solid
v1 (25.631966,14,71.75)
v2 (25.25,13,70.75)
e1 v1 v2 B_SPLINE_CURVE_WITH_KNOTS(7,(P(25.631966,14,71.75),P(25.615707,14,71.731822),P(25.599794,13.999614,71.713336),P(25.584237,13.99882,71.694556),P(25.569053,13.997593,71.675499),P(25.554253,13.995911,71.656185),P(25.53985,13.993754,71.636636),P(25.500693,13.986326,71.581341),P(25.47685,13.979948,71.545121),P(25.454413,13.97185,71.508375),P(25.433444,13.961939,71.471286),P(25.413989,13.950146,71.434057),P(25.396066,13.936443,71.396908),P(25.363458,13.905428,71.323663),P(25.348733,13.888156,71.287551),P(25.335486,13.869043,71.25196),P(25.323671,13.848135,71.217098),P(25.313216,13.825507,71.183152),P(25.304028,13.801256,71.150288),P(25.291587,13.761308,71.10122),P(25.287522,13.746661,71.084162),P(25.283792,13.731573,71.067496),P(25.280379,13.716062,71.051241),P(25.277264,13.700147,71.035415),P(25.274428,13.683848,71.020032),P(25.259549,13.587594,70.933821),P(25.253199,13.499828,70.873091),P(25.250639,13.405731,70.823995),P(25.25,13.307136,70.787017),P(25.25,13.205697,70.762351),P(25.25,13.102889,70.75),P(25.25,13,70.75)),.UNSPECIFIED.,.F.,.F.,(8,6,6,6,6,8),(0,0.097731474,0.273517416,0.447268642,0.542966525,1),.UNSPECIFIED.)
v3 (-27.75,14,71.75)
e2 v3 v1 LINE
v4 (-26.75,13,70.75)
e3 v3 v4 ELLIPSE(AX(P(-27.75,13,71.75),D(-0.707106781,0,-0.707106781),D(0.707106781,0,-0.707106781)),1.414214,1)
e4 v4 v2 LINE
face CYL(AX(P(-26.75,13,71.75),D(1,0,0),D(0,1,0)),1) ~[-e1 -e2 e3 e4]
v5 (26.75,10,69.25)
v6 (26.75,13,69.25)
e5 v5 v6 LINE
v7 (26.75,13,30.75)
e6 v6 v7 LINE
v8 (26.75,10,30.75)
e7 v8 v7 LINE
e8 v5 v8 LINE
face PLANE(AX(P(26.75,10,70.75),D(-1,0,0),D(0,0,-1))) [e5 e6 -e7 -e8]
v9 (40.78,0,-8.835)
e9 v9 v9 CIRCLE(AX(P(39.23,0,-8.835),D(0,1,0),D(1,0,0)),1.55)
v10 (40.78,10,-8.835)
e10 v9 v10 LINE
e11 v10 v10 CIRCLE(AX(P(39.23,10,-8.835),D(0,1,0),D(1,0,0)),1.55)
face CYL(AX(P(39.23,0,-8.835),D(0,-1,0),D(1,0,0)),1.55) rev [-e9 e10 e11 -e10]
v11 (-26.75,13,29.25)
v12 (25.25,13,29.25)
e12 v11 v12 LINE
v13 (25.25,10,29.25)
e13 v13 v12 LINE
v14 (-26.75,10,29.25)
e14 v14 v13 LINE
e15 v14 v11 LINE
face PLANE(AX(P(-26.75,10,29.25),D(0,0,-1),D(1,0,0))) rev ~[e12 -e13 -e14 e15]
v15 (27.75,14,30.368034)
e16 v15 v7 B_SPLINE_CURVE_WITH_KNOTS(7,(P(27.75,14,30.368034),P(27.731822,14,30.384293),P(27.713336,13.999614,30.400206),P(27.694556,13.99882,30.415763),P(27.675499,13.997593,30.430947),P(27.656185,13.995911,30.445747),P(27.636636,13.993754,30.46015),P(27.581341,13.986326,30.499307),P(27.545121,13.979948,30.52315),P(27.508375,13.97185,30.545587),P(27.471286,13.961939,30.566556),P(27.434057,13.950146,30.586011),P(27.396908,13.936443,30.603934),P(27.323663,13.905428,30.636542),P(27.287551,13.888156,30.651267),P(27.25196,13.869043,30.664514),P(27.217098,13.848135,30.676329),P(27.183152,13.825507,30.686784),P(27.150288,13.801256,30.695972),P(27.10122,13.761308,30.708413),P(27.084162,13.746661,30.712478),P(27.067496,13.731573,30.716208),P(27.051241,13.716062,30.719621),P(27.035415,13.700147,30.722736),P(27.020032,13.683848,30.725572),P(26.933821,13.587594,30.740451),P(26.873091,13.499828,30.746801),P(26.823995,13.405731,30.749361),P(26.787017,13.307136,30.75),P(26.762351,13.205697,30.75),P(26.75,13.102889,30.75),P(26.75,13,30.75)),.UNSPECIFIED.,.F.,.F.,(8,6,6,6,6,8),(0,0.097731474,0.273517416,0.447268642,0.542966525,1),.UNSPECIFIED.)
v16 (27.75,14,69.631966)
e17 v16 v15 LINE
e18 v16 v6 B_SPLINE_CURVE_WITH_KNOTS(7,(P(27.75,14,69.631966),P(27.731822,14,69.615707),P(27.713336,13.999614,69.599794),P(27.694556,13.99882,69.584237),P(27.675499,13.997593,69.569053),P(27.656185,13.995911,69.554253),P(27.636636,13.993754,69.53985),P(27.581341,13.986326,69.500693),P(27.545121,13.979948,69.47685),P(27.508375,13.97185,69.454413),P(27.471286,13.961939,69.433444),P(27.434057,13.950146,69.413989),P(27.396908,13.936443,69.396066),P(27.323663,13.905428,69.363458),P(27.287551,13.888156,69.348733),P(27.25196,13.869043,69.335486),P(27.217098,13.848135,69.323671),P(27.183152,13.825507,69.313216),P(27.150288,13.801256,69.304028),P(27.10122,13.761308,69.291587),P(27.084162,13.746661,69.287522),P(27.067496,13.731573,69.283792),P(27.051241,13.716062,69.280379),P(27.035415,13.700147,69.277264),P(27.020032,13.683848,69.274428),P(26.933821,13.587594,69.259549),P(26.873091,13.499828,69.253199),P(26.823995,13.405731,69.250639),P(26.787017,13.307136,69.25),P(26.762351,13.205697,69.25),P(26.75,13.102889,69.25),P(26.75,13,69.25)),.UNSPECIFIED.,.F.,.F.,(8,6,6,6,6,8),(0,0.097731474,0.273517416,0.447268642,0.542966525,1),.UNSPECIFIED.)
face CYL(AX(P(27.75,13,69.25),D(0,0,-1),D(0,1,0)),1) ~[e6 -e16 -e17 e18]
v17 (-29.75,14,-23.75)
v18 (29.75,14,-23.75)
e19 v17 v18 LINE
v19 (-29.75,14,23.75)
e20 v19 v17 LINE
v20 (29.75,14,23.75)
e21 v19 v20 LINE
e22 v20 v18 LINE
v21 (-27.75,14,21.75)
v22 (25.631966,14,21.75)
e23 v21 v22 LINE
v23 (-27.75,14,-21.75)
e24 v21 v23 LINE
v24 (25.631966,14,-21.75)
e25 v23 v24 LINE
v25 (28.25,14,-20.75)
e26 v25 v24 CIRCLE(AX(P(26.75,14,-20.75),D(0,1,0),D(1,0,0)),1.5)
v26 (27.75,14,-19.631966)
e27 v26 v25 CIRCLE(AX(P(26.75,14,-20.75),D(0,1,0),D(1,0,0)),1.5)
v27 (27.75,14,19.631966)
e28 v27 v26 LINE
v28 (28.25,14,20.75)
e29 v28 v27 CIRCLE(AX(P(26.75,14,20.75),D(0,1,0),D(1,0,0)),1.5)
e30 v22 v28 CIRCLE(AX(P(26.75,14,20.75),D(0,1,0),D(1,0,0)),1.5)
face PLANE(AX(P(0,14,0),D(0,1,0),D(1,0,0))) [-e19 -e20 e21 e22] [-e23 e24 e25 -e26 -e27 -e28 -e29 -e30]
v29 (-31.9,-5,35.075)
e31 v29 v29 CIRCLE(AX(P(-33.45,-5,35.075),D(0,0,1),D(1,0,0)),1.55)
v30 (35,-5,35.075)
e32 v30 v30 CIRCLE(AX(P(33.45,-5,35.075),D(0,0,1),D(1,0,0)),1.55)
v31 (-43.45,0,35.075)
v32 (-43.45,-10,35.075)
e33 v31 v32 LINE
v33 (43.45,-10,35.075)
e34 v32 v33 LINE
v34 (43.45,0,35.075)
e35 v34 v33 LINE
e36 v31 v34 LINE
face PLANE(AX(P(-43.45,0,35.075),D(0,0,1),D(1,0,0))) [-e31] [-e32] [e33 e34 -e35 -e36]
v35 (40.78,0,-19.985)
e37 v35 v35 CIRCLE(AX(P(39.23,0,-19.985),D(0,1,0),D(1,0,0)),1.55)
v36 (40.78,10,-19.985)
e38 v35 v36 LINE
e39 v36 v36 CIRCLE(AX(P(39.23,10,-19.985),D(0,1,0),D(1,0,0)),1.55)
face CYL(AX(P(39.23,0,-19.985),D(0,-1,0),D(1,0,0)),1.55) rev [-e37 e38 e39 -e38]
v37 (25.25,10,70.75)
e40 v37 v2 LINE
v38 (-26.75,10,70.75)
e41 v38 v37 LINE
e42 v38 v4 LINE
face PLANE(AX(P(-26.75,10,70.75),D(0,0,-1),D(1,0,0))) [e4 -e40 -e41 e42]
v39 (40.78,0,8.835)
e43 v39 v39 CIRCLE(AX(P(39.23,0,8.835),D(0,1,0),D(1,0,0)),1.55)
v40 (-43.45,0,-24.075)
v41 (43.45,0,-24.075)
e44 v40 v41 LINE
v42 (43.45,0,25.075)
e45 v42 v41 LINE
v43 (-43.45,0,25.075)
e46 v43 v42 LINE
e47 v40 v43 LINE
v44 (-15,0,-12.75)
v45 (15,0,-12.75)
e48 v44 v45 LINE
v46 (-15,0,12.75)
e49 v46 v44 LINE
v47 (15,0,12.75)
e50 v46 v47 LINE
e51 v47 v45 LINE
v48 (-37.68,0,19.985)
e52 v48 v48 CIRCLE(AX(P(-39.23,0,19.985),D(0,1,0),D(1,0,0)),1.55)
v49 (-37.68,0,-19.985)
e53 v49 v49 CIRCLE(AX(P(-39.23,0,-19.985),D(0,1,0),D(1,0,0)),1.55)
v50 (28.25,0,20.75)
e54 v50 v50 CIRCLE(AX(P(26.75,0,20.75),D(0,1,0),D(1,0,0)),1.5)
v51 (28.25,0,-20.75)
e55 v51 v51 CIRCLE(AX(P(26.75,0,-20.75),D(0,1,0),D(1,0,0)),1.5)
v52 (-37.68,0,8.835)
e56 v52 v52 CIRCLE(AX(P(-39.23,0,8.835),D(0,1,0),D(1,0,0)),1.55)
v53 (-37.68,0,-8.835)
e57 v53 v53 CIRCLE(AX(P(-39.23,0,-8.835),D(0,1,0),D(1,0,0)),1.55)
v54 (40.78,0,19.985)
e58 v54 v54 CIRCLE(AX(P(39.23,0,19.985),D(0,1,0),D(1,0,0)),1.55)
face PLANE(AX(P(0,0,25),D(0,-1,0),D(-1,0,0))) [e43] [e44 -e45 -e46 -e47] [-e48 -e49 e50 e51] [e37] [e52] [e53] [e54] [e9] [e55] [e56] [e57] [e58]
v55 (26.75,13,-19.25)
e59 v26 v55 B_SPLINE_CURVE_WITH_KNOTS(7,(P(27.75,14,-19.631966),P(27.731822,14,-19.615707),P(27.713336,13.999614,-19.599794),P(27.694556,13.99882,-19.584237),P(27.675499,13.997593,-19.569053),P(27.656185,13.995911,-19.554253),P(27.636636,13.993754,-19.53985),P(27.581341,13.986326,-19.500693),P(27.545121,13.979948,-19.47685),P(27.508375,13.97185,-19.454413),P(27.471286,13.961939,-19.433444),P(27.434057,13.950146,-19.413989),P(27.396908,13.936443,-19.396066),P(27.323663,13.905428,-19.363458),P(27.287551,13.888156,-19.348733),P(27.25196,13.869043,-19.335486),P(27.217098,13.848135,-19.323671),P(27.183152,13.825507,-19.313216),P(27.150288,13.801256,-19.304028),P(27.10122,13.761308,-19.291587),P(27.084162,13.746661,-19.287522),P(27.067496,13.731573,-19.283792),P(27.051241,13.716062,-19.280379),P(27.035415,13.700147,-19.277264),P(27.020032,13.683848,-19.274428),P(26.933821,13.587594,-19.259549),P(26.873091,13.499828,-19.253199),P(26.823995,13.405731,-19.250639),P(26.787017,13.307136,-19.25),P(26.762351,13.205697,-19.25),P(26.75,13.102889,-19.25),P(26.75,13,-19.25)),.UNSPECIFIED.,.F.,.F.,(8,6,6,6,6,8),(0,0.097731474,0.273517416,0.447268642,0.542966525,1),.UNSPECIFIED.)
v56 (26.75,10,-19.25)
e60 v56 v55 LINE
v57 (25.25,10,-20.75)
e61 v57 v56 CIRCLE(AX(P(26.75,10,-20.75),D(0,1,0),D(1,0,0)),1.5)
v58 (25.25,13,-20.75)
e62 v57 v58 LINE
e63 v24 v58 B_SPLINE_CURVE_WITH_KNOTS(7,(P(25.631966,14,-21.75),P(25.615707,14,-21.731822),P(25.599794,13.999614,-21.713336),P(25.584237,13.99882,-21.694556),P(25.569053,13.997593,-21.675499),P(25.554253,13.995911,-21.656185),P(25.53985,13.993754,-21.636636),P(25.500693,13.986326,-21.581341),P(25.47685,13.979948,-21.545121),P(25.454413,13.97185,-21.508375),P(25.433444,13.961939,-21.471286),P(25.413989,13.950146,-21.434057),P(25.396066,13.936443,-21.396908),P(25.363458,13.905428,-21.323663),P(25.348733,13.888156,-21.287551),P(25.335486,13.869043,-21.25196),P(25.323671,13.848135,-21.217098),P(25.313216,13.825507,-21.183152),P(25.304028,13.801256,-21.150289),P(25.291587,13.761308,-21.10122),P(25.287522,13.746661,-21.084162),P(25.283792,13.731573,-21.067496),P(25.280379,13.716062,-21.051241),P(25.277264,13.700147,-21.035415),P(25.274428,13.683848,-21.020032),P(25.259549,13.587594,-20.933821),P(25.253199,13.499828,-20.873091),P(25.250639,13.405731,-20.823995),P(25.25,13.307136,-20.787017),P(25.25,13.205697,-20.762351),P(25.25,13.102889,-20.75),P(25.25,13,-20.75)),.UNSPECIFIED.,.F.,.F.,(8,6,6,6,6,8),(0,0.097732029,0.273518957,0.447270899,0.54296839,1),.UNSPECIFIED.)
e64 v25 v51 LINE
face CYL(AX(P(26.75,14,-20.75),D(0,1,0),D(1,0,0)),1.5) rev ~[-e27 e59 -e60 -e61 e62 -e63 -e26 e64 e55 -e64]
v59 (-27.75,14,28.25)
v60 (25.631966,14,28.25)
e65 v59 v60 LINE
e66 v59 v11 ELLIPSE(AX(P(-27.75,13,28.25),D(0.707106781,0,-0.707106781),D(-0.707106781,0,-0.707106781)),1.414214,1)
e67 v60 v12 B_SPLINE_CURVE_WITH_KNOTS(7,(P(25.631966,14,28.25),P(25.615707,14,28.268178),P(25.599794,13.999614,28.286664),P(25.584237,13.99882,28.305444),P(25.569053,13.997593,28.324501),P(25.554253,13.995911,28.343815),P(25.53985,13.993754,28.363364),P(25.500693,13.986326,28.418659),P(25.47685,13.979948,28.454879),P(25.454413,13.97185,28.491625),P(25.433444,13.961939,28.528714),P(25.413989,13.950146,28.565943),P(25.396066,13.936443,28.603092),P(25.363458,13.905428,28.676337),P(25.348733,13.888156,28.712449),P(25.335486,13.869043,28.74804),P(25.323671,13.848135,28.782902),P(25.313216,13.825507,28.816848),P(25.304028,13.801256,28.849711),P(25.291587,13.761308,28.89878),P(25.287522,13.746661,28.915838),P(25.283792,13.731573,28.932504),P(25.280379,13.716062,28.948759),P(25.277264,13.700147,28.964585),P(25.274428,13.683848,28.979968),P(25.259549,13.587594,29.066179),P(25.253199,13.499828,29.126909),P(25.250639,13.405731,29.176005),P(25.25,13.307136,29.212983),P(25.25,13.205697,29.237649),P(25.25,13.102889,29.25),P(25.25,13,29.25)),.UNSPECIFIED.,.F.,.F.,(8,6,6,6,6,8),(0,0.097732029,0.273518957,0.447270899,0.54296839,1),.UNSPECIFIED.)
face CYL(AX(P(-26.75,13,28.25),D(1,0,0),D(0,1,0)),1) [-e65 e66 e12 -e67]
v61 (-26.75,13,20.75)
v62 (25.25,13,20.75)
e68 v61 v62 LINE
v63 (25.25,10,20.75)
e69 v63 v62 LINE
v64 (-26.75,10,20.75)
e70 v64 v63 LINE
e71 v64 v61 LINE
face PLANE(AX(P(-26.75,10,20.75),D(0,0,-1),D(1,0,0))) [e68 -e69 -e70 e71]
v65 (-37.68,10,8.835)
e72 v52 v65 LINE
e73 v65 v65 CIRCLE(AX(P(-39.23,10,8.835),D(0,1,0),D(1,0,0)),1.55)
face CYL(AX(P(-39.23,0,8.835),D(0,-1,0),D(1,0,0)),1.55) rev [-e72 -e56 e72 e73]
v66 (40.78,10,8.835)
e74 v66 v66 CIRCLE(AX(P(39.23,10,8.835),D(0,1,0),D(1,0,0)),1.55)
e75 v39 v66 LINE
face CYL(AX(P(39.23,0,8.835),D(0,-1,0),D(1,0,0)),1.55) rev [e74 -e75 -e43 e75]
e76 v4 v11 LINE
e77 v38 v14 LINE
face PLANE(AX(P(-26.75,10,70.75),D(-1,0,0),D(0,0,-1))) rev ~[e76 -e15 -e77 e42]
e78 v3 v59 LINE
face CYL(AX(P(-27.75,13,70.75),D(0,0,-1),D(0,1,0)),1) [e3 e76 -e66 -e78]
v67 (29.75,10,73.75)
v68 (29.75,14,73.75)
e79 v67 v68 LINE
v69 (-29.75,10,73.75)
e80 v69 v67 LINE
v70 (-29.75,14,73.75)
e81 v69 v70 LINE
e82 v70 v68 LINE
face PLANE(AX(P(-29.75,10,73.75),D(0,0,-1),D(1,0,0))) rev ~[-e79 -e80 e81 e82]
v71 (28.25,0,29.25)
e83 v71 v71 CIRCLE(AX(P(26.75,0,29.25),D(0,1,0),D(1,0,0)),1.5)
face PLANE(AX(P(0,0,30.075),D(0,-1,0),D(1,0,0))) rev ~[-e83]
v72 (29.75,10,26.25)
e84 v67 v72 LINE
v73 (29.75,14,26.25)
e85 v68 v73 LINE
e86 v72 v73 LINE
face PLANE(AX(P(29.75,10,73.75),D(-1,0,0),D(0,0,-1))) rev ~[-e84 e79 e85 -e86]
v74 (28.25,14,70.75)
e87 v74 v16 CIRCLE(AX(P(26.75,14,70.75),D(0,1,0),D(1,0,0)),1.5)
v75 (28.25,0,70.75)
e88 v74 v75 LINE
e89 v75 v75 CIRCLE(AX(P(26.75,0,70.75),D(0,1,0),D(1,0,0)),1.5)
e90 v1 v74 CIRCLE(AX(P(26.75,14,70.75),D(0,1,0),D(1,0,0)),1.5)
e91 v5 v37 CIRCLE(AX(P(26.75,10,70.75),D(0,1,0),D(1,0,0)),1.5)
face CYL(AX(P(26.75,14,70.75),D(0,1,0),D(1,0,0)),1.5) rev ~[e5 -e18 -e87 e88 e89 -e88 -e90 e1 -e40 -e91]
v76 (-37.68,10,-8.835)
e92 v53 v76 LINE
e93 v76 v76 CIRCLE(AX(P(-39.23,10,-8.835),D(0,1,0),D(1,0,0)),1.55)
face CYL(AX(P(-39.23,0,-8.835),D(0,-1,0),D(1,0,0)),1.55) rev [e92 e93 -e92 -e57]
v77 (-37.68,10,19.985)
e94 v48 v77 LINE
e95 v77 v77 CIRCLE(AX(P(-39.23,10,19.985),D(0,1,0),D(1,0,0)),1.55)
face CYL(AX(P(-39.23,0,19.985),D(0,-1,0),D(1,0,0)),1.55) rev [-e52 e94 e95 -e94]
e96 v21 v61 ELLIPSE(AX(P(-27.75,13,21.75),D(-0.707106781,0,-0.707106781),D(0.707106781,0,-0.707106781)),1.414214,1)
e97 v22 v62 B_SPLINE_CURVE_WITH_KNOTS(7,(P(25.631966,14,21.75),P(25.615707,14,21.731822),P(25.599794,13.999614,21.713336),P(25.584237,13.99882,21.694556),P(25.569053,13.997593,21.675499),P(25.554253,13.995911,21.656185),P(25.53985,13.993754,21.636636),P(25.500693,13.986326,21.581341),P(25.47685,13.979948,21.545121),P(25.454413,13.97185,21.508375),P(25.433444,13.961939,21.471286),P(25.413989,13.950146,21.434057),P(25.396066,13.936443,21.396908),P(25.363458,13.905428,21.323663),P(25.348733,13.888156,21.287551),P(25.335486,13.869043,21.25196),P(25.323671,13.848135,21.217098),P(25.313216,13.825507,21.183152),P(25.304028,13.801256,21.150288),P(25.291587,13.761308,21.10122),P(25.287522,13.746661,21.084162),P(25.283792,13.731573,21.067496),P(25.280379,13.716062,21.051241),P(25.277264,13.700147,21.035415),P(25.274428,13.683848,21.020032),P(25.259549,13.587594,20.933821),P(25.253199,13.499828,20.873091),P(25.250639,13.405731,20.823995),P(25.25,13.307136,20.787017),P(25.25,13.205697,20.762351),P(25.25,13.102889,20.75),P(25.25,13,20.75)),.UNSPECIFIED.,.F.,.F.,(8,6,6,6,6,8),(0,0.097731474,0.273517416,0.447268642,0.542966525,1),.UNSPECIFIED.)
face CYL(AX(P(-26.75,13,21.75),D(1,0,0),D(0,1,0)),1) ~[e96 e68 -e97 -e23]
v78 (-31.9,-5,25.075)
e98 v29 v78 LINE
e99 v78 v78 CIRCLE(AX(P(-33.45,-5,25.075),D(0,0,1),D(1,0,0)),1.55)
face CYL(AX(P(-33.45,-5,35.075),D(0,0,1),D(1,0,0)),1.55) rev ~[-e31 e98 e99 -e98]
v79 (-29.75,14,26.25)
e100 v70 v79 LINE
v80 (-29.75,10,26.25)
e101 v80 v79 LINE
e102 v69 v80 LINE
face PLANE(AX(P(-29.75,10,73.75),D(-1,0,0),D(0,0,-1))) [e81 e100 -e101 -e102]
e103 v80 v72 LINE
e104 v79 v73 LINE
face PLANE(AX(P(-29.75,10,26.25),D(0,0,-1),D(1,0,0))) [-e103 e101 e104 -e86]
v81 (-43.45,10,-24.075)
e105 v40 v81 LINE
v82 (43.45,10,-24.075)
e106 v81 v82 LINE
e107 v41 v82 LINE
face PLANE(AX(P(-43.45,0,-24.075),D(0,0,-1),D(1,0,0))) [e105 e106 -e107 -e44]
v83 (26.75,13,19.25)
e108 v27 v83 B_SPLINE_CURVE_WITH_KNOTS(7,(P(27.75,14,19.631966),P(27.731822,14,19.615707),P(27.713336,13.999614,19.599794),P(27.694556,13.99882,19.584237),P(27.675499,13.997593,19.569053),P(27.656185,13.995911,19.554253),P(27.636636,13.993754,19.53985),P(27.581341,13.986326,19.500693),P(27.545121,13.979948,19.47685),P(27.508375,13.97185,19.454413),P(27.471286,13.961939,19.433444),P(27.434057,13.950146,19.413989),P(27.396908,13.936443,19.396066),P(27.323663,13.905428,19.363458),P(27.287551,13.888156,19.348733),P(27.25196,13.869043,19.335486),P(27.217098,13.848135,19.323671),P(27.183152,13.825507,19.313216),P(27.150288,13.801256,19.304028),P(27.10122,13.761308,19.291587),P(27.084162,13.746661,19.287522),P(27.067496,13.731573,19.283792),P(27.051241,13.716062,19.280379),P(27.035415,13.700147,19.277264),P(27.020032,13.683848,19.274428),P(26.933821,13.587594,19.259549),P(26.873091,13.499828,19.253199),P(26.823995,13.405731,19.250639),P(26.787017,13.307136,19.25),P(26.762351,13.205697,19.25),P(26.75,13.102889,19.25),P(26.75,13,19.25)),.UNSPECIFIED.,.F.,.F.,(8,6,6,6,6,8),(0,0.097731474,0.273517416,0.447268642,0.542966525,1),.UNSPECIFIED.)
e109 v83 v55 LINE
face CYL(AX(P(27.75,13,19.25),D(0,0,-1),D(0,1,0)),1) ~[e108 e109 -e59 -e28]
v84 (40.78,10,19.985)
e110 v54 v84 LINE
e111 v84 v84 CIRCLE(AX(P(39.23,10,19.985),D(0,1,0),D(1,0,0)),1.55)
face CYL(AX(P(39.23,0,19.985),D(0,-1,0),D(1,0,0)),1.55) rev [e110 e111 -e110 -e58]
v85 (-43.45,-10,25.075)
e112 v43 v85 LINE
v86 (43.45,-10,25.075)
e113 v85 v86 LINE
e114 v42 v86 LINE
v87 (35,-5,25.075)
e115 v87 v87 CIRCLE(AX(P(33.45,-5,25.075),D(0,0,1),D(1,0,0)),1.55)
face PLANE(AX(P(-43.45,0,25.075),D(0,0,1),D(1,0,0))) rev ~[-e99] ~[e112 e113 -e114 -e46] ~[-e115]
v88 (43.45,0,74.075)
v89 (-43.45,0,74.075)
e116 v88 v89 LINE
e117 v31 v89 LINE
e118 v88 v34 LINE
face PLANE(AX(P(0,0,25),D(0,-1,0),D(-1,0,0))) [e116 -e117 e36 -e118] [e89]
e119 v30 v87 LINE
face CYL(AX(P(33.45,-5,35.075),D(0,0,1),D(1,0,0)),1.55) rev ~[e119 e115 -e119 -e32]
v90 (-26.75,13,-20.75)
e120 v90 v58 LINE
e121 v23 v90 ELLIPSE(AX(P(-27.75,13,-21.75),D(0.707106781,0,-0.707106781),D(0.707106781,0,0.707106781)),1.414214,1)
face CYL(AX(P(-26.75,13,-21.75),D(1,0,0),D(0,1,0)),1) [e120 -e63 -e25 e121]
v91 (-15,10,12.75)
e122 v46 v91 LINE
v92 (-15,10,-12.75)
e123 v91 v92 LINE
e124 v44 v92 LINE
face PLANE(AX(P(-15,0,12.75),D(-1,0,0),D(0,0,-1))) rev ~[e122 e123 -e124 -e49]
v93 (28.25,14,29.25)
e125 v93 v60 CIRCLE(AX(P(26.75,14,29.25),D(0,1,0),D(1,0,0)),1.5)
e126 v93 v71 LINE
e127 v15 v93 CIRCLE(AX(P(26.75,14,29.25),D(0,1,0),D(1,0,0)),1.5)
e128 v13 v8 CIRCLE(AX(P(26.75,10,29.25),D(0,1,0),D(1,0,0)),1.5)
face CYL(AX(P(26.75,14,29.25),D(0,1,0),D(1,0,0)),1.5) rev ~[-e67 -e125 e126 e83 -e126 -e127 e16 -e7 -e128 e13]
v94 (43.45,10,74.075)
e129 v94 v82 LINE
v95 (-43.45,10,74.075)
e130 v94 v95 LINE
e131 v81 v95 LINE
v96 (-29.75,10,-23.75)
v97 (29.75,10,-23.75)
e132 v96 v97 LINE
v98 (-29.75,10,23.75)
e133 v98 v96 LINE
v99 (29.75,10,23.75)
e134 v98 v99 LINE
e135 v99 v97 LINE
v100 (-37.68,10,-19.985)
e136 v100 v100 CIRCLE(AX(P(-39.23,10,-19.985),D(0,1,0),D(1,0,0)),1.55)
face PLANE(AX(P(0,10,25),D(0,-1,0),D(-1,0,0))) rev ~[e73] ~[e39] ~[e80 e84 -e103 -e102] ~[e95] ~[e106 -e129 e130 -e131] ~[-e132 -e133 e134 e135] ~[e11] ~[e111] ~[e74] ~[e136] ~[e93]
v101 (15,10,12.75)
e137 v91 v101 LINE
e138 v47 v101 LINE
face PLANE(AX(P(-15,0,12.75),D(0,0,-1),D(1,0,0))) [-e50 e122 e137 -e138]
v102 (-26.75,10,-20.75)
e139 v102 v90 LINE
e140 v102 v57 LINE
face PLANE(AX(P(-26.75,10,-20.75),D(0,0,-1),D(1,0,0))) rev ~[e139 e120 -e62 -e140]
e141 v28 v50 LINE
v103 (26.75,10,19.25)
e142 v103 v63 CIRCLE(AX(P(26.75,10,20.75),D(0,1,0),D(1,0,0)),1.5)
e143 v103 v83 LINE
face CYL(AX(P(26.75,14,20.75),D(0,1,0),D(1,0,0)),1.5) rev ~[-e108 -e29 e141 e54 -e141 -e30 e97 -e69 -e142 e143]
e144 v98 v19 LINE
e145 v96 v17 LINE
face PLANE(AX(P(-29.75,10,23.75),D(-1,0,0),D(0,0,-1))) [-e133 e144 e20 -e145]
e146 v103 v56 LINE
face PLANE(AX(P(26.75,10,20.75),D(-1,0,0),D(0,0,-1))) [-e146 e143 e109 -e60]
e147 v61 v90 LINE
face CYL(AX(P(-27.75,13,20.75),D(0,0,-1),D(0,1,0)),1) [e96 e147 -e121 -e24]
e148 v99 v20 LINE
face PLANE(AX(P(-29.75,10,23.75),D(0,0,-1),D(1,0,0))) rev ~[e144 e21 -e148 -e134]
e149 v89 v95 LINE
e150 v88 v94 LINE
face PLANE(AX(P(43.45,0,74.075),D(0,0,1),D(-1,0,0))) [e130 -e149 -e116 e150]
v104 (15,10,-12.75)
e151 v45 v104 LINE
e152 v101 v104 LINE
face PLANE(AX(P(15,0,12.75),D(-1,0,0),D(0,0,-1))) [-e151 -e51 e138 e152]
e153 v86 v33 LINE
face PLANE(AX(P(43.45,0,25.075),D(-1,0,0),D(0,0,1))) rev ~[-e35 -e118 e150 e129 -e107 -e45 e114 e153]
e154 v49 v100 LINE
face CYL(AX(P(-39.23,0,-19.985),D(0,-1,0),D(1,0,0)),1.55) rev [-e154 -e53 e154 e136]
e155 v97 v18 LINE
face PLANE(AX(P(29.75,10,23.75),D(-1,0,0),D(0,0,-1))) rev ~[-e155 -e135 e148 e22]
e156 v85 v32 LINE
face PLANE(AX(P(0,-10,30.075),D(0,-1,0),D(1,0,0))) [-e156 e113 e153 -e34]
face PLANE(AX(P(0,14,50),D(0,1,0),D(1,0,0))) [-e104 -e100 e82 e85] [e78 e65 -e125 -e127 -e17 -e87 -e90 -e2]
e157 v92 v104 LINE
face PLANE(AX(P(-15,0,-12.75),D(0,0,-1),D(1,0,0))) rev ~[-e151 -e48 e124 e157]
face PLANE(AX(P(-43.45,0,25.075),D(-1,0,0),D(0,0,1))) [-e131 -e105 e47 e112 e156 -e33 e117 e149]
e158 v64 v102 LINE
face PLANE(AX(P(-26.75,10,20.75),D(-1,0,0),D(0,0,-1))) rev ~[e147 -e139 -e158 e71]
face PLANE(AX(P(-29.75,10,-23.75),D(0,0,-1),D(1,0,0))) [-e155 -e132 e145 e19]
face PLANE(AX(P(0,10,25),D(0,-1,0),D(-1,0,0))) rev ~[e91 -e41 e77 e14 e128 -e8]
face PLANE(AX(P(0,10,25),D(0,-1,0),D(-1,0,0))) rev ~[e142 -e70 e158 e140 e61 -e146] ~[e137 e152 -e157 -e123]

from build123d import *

# Parameters (mm, degrees)
SKETCH1_R           = 1.55
SKETCH1_W           = 30
SKETCH1_H           = 25.5
BOSS_EXTRUDE1_DEPTH = 10
SKETCH2_W           = 59.5
SKETCH2_H           = 47.5
SKETCH2_W_2         = 53.5
SKETCH2_H_2         = 41.5
BOSS_EXTRUDE2_DEPTH = 4
CUT_EXTRUDE1_REACH  = 16
SKETCH3_R           = 1.5
FILLET2_R           = 1
SKETCH6_W           = 86.9
SKETCH6_H           = 10
BOSS_EXTRUDE3_DEPTH = 10
CUT_EXTRUDE2_REACH  = 61.15
SKETCH7_R           = 1.55


with BuildPart() as part:
    # Sketch1 → Boss-Extrude1 (new body)
    with BuildSketch(Plane(origin=(0, 0, 0), x_dir=(1, 0, 0), z_dir=(0, 1, 0))):
        Polygon((-43.45, 24.075), (43.45, 24.075), (43.45, -24.075), (43.45, -74.075), (-43.45, -74.075), (-43.45, -24.075), align=None)
        with Locations((-39.23, 19.985)):
            Circle(SKETCH1_R, mode=Mode.SUBTRACT)
        with Locations((-39.23, 8.835)):
            Circle(SKETCH1_R, mode=Mode.SUBTRACT)
        with Locations((-39.23, -8.835)):
            Circle(SKETCH1_R, mode=Mode.SUBTRACT)
        with Locations((-39.23, -19.985)):
            Circle(SKETCH1_R, mode=Mode.SUBTRACT)
        with Locations((39.23, -19.985)):
            Circle(SKETCH1_R, mode=Mode.SUBTRACT)
        with Locations((39.23, -8.835)):
            Circle(SKETCH1_R, mode=Mode.SUBTRACT)
        with Locations((39.23, 8.835)):
            Circle(SKETCH1_R, mode=Mode.SUBTRACT)
        with Locations((39.23, 19.985)):
            Circle(SKETCH1_R, mode=Mode.SUBTRACT)
        Rectangle(SKETCH1_W, SKETCH1_H, mode=Mode.SUBTRACT)
    extrude(amount=BOSS_EXTRUDE1_DEPTH)

    # Sketch2 → Boss-Extrude2 (add)
    with BuildSketch(Plane(origin=(0, 10, 0), x_dir=(1, 0, 0), z_dir=(0, 1, 0))):
        with Locations((0, -50)):
            Rectangle(SKETCH2_W, SKETCH2_H)
        with Locations((0, -50)):
            Rectangle(SKETCH2_W_2, SKETCH2_H_2, mode=Mode.SUBTRACT)
        Rectangle(SKETCH2_W, SKETCH2_H)
        Rectangle(SKETCH2_W_2, SKETCH2_H_2, mode=Mode.SUBTRACT)
    extrude(amount=BOSS_EXTRUDE2_DEPTH)

    # Sketch3 → Cut-Extrude1 (cut, up to next)
    with BuildSketch(Plane(origin=(0, 14, 0), x_dir=(1, 0, 0), z_dir=(0, 1, 0)), mode=Mode.PRIVATE) as cut_extrude1_sk1:
        with Locations((26.75, 20.75)):
            Circle(SKETCH3_R)
    cut_extrude1_tool1 = extrude(cut_extrude1_sk1.sketch, amount=-CUT_EXTRUDE1_REACH, mode=Mode.PRIVATE) & part.part
    add(cut_extrude1_tool1.solids().sort_by_distance((26.75, 14, -20.75))[0], mode=Mode.SUBTRACT)
    # Sketch3 → Cut-Extrude1 (cut, up to next)
    with BuildSketch(Plane(origin=(0, 14, 0), x_dir=(1, 0, 0), z_dir=(0, 1, 0)), mode=Mode.PRIVATE) as cut_extrude1_sk2:
        with Locations((26.75, -20.75)):
            Circle(SKETCH3_R)
    cut_extrude1_tool2 = extrude(cut_extrude1_sk2.sketch, amount=-CUT_EXTRUDE1_REACH, mode=Mode.PRIVATE) & part.part
    add(cut_extrude1_tool2.solids().sort_by_distance((26.75, 14, 20.75))[0], mode=Mode.SUBTRACT)
    # Sketch3 → Cut-Extrude1 (cut, up to next)
    with BuildSketch(Plane(origin=(0, 14, 0), x_dir=(1, 0, 0), z_dir=(0, 1, 0)), mode=Mode.PRIVATE) as cut_extrude1_sk3:
        with Locations((26.75, -29.25)):
            Circle(SKETCH3_R)
    cut_extrude1_tool3 = extrude(cut_extrude1_sk3.sketch, amount=-CUT_EXTRUDE1_REACH, mode=Mode.PRIVATE) & part.part
    add(cut_extrude1_tool3.solids().sort_by_distance((26.75, 14, 29.25))[0], mode=Mode.SUBTRACT)
    # Sketch3 → Cut-Extrude1 (cut, up to next)
    with BuildSketch(Plane(origin=(0, 14, 0), x_dir=(1, 0, 0), z_dir=(0, 1, 0)), mode=Mode.PRIVATE) as cut_extrude1_sk4:
        with Locations((26.75, -70.75)):
            Circle(SKETCH3_R)
    cut_extrude1_tool4 = extrude(cut_extrude1_sk4.sketch, amount=-CUT_EXTRUDE1_REACH, mode=Mode.PRIVATE) & part.part
    add(cut_extrude1_tool4.solids().sort_by_distance((26.75, 14, 70.75))[0], mode=Mode.SUBTRACT)

    # Fillet2
    fillet2_edges = [part.edges().sort_by_distance(p)[0] for p in [
        (-26.75, 14, 50),
        (-0.75, 14, 29.25),
        (26.75, 14, 50),
        (-0.75, 14, -20.75),
        (26.75, 14, 0),
        (-26.75, 14, 0),
        (-0.75, 14, 20.75),
        (-0.75, 14, 70.75),
    ]]
    fillet(fillet2_edges, radius=FILLET2_R)

    # Sketch6 → Boss-Extrude3 (add)
    with BuildSketch(Plane.XZ):
        with Locations((0, 30.075)):
            Rectangle(SKETCH6_W, SKETCH6_H)
    extrude(amount=BOSS_EXTRUDE3_DEPTH)

    # Sketch7 → Cut-Extrude2 (cut, up to next)
    with BuildSketch(Plane.XY.offset(35.075), mode=Mode.PRIVATE) as cut_extrude2_sk1:
        with Locations((-33.45, -5)):
            Circle(SKETCH7_R)
    cut_extrude2_tool1 = extrude(cut_extrude2_sk1.sketch, amount=-CUT_EXTRUDE2_REACH, mode=Mode.PRIVATE) & part.part
    add(cut_extrude2_tool1.solids().sort_by_distance((-33.45, -5, 35.075))[0], mode=Mode.SUBTRACT)
    # Sketch7 → Cut-Extrude2 (cut, up to next)
    with BuildSketch(Plane.XY.offset(35.075), mode=Mode.PRIVATE) as cut_extrude2_sk2:
        with Locations((33.45, -5)):
            Circle(SKETCH7_R)
    cut_extrude2_tool2 = extrude(cut_extrude2_sk2.sketch, amount=-CUT_EXTRUDE2_REACH, mode=Mode.PRIVATE) & part.part
    add(cut_extrude2_tool2.solids().sort_by_distance((33.45, -5, 35.075))[0], mode=Mode.SUBTRACT)


solid = part.part
